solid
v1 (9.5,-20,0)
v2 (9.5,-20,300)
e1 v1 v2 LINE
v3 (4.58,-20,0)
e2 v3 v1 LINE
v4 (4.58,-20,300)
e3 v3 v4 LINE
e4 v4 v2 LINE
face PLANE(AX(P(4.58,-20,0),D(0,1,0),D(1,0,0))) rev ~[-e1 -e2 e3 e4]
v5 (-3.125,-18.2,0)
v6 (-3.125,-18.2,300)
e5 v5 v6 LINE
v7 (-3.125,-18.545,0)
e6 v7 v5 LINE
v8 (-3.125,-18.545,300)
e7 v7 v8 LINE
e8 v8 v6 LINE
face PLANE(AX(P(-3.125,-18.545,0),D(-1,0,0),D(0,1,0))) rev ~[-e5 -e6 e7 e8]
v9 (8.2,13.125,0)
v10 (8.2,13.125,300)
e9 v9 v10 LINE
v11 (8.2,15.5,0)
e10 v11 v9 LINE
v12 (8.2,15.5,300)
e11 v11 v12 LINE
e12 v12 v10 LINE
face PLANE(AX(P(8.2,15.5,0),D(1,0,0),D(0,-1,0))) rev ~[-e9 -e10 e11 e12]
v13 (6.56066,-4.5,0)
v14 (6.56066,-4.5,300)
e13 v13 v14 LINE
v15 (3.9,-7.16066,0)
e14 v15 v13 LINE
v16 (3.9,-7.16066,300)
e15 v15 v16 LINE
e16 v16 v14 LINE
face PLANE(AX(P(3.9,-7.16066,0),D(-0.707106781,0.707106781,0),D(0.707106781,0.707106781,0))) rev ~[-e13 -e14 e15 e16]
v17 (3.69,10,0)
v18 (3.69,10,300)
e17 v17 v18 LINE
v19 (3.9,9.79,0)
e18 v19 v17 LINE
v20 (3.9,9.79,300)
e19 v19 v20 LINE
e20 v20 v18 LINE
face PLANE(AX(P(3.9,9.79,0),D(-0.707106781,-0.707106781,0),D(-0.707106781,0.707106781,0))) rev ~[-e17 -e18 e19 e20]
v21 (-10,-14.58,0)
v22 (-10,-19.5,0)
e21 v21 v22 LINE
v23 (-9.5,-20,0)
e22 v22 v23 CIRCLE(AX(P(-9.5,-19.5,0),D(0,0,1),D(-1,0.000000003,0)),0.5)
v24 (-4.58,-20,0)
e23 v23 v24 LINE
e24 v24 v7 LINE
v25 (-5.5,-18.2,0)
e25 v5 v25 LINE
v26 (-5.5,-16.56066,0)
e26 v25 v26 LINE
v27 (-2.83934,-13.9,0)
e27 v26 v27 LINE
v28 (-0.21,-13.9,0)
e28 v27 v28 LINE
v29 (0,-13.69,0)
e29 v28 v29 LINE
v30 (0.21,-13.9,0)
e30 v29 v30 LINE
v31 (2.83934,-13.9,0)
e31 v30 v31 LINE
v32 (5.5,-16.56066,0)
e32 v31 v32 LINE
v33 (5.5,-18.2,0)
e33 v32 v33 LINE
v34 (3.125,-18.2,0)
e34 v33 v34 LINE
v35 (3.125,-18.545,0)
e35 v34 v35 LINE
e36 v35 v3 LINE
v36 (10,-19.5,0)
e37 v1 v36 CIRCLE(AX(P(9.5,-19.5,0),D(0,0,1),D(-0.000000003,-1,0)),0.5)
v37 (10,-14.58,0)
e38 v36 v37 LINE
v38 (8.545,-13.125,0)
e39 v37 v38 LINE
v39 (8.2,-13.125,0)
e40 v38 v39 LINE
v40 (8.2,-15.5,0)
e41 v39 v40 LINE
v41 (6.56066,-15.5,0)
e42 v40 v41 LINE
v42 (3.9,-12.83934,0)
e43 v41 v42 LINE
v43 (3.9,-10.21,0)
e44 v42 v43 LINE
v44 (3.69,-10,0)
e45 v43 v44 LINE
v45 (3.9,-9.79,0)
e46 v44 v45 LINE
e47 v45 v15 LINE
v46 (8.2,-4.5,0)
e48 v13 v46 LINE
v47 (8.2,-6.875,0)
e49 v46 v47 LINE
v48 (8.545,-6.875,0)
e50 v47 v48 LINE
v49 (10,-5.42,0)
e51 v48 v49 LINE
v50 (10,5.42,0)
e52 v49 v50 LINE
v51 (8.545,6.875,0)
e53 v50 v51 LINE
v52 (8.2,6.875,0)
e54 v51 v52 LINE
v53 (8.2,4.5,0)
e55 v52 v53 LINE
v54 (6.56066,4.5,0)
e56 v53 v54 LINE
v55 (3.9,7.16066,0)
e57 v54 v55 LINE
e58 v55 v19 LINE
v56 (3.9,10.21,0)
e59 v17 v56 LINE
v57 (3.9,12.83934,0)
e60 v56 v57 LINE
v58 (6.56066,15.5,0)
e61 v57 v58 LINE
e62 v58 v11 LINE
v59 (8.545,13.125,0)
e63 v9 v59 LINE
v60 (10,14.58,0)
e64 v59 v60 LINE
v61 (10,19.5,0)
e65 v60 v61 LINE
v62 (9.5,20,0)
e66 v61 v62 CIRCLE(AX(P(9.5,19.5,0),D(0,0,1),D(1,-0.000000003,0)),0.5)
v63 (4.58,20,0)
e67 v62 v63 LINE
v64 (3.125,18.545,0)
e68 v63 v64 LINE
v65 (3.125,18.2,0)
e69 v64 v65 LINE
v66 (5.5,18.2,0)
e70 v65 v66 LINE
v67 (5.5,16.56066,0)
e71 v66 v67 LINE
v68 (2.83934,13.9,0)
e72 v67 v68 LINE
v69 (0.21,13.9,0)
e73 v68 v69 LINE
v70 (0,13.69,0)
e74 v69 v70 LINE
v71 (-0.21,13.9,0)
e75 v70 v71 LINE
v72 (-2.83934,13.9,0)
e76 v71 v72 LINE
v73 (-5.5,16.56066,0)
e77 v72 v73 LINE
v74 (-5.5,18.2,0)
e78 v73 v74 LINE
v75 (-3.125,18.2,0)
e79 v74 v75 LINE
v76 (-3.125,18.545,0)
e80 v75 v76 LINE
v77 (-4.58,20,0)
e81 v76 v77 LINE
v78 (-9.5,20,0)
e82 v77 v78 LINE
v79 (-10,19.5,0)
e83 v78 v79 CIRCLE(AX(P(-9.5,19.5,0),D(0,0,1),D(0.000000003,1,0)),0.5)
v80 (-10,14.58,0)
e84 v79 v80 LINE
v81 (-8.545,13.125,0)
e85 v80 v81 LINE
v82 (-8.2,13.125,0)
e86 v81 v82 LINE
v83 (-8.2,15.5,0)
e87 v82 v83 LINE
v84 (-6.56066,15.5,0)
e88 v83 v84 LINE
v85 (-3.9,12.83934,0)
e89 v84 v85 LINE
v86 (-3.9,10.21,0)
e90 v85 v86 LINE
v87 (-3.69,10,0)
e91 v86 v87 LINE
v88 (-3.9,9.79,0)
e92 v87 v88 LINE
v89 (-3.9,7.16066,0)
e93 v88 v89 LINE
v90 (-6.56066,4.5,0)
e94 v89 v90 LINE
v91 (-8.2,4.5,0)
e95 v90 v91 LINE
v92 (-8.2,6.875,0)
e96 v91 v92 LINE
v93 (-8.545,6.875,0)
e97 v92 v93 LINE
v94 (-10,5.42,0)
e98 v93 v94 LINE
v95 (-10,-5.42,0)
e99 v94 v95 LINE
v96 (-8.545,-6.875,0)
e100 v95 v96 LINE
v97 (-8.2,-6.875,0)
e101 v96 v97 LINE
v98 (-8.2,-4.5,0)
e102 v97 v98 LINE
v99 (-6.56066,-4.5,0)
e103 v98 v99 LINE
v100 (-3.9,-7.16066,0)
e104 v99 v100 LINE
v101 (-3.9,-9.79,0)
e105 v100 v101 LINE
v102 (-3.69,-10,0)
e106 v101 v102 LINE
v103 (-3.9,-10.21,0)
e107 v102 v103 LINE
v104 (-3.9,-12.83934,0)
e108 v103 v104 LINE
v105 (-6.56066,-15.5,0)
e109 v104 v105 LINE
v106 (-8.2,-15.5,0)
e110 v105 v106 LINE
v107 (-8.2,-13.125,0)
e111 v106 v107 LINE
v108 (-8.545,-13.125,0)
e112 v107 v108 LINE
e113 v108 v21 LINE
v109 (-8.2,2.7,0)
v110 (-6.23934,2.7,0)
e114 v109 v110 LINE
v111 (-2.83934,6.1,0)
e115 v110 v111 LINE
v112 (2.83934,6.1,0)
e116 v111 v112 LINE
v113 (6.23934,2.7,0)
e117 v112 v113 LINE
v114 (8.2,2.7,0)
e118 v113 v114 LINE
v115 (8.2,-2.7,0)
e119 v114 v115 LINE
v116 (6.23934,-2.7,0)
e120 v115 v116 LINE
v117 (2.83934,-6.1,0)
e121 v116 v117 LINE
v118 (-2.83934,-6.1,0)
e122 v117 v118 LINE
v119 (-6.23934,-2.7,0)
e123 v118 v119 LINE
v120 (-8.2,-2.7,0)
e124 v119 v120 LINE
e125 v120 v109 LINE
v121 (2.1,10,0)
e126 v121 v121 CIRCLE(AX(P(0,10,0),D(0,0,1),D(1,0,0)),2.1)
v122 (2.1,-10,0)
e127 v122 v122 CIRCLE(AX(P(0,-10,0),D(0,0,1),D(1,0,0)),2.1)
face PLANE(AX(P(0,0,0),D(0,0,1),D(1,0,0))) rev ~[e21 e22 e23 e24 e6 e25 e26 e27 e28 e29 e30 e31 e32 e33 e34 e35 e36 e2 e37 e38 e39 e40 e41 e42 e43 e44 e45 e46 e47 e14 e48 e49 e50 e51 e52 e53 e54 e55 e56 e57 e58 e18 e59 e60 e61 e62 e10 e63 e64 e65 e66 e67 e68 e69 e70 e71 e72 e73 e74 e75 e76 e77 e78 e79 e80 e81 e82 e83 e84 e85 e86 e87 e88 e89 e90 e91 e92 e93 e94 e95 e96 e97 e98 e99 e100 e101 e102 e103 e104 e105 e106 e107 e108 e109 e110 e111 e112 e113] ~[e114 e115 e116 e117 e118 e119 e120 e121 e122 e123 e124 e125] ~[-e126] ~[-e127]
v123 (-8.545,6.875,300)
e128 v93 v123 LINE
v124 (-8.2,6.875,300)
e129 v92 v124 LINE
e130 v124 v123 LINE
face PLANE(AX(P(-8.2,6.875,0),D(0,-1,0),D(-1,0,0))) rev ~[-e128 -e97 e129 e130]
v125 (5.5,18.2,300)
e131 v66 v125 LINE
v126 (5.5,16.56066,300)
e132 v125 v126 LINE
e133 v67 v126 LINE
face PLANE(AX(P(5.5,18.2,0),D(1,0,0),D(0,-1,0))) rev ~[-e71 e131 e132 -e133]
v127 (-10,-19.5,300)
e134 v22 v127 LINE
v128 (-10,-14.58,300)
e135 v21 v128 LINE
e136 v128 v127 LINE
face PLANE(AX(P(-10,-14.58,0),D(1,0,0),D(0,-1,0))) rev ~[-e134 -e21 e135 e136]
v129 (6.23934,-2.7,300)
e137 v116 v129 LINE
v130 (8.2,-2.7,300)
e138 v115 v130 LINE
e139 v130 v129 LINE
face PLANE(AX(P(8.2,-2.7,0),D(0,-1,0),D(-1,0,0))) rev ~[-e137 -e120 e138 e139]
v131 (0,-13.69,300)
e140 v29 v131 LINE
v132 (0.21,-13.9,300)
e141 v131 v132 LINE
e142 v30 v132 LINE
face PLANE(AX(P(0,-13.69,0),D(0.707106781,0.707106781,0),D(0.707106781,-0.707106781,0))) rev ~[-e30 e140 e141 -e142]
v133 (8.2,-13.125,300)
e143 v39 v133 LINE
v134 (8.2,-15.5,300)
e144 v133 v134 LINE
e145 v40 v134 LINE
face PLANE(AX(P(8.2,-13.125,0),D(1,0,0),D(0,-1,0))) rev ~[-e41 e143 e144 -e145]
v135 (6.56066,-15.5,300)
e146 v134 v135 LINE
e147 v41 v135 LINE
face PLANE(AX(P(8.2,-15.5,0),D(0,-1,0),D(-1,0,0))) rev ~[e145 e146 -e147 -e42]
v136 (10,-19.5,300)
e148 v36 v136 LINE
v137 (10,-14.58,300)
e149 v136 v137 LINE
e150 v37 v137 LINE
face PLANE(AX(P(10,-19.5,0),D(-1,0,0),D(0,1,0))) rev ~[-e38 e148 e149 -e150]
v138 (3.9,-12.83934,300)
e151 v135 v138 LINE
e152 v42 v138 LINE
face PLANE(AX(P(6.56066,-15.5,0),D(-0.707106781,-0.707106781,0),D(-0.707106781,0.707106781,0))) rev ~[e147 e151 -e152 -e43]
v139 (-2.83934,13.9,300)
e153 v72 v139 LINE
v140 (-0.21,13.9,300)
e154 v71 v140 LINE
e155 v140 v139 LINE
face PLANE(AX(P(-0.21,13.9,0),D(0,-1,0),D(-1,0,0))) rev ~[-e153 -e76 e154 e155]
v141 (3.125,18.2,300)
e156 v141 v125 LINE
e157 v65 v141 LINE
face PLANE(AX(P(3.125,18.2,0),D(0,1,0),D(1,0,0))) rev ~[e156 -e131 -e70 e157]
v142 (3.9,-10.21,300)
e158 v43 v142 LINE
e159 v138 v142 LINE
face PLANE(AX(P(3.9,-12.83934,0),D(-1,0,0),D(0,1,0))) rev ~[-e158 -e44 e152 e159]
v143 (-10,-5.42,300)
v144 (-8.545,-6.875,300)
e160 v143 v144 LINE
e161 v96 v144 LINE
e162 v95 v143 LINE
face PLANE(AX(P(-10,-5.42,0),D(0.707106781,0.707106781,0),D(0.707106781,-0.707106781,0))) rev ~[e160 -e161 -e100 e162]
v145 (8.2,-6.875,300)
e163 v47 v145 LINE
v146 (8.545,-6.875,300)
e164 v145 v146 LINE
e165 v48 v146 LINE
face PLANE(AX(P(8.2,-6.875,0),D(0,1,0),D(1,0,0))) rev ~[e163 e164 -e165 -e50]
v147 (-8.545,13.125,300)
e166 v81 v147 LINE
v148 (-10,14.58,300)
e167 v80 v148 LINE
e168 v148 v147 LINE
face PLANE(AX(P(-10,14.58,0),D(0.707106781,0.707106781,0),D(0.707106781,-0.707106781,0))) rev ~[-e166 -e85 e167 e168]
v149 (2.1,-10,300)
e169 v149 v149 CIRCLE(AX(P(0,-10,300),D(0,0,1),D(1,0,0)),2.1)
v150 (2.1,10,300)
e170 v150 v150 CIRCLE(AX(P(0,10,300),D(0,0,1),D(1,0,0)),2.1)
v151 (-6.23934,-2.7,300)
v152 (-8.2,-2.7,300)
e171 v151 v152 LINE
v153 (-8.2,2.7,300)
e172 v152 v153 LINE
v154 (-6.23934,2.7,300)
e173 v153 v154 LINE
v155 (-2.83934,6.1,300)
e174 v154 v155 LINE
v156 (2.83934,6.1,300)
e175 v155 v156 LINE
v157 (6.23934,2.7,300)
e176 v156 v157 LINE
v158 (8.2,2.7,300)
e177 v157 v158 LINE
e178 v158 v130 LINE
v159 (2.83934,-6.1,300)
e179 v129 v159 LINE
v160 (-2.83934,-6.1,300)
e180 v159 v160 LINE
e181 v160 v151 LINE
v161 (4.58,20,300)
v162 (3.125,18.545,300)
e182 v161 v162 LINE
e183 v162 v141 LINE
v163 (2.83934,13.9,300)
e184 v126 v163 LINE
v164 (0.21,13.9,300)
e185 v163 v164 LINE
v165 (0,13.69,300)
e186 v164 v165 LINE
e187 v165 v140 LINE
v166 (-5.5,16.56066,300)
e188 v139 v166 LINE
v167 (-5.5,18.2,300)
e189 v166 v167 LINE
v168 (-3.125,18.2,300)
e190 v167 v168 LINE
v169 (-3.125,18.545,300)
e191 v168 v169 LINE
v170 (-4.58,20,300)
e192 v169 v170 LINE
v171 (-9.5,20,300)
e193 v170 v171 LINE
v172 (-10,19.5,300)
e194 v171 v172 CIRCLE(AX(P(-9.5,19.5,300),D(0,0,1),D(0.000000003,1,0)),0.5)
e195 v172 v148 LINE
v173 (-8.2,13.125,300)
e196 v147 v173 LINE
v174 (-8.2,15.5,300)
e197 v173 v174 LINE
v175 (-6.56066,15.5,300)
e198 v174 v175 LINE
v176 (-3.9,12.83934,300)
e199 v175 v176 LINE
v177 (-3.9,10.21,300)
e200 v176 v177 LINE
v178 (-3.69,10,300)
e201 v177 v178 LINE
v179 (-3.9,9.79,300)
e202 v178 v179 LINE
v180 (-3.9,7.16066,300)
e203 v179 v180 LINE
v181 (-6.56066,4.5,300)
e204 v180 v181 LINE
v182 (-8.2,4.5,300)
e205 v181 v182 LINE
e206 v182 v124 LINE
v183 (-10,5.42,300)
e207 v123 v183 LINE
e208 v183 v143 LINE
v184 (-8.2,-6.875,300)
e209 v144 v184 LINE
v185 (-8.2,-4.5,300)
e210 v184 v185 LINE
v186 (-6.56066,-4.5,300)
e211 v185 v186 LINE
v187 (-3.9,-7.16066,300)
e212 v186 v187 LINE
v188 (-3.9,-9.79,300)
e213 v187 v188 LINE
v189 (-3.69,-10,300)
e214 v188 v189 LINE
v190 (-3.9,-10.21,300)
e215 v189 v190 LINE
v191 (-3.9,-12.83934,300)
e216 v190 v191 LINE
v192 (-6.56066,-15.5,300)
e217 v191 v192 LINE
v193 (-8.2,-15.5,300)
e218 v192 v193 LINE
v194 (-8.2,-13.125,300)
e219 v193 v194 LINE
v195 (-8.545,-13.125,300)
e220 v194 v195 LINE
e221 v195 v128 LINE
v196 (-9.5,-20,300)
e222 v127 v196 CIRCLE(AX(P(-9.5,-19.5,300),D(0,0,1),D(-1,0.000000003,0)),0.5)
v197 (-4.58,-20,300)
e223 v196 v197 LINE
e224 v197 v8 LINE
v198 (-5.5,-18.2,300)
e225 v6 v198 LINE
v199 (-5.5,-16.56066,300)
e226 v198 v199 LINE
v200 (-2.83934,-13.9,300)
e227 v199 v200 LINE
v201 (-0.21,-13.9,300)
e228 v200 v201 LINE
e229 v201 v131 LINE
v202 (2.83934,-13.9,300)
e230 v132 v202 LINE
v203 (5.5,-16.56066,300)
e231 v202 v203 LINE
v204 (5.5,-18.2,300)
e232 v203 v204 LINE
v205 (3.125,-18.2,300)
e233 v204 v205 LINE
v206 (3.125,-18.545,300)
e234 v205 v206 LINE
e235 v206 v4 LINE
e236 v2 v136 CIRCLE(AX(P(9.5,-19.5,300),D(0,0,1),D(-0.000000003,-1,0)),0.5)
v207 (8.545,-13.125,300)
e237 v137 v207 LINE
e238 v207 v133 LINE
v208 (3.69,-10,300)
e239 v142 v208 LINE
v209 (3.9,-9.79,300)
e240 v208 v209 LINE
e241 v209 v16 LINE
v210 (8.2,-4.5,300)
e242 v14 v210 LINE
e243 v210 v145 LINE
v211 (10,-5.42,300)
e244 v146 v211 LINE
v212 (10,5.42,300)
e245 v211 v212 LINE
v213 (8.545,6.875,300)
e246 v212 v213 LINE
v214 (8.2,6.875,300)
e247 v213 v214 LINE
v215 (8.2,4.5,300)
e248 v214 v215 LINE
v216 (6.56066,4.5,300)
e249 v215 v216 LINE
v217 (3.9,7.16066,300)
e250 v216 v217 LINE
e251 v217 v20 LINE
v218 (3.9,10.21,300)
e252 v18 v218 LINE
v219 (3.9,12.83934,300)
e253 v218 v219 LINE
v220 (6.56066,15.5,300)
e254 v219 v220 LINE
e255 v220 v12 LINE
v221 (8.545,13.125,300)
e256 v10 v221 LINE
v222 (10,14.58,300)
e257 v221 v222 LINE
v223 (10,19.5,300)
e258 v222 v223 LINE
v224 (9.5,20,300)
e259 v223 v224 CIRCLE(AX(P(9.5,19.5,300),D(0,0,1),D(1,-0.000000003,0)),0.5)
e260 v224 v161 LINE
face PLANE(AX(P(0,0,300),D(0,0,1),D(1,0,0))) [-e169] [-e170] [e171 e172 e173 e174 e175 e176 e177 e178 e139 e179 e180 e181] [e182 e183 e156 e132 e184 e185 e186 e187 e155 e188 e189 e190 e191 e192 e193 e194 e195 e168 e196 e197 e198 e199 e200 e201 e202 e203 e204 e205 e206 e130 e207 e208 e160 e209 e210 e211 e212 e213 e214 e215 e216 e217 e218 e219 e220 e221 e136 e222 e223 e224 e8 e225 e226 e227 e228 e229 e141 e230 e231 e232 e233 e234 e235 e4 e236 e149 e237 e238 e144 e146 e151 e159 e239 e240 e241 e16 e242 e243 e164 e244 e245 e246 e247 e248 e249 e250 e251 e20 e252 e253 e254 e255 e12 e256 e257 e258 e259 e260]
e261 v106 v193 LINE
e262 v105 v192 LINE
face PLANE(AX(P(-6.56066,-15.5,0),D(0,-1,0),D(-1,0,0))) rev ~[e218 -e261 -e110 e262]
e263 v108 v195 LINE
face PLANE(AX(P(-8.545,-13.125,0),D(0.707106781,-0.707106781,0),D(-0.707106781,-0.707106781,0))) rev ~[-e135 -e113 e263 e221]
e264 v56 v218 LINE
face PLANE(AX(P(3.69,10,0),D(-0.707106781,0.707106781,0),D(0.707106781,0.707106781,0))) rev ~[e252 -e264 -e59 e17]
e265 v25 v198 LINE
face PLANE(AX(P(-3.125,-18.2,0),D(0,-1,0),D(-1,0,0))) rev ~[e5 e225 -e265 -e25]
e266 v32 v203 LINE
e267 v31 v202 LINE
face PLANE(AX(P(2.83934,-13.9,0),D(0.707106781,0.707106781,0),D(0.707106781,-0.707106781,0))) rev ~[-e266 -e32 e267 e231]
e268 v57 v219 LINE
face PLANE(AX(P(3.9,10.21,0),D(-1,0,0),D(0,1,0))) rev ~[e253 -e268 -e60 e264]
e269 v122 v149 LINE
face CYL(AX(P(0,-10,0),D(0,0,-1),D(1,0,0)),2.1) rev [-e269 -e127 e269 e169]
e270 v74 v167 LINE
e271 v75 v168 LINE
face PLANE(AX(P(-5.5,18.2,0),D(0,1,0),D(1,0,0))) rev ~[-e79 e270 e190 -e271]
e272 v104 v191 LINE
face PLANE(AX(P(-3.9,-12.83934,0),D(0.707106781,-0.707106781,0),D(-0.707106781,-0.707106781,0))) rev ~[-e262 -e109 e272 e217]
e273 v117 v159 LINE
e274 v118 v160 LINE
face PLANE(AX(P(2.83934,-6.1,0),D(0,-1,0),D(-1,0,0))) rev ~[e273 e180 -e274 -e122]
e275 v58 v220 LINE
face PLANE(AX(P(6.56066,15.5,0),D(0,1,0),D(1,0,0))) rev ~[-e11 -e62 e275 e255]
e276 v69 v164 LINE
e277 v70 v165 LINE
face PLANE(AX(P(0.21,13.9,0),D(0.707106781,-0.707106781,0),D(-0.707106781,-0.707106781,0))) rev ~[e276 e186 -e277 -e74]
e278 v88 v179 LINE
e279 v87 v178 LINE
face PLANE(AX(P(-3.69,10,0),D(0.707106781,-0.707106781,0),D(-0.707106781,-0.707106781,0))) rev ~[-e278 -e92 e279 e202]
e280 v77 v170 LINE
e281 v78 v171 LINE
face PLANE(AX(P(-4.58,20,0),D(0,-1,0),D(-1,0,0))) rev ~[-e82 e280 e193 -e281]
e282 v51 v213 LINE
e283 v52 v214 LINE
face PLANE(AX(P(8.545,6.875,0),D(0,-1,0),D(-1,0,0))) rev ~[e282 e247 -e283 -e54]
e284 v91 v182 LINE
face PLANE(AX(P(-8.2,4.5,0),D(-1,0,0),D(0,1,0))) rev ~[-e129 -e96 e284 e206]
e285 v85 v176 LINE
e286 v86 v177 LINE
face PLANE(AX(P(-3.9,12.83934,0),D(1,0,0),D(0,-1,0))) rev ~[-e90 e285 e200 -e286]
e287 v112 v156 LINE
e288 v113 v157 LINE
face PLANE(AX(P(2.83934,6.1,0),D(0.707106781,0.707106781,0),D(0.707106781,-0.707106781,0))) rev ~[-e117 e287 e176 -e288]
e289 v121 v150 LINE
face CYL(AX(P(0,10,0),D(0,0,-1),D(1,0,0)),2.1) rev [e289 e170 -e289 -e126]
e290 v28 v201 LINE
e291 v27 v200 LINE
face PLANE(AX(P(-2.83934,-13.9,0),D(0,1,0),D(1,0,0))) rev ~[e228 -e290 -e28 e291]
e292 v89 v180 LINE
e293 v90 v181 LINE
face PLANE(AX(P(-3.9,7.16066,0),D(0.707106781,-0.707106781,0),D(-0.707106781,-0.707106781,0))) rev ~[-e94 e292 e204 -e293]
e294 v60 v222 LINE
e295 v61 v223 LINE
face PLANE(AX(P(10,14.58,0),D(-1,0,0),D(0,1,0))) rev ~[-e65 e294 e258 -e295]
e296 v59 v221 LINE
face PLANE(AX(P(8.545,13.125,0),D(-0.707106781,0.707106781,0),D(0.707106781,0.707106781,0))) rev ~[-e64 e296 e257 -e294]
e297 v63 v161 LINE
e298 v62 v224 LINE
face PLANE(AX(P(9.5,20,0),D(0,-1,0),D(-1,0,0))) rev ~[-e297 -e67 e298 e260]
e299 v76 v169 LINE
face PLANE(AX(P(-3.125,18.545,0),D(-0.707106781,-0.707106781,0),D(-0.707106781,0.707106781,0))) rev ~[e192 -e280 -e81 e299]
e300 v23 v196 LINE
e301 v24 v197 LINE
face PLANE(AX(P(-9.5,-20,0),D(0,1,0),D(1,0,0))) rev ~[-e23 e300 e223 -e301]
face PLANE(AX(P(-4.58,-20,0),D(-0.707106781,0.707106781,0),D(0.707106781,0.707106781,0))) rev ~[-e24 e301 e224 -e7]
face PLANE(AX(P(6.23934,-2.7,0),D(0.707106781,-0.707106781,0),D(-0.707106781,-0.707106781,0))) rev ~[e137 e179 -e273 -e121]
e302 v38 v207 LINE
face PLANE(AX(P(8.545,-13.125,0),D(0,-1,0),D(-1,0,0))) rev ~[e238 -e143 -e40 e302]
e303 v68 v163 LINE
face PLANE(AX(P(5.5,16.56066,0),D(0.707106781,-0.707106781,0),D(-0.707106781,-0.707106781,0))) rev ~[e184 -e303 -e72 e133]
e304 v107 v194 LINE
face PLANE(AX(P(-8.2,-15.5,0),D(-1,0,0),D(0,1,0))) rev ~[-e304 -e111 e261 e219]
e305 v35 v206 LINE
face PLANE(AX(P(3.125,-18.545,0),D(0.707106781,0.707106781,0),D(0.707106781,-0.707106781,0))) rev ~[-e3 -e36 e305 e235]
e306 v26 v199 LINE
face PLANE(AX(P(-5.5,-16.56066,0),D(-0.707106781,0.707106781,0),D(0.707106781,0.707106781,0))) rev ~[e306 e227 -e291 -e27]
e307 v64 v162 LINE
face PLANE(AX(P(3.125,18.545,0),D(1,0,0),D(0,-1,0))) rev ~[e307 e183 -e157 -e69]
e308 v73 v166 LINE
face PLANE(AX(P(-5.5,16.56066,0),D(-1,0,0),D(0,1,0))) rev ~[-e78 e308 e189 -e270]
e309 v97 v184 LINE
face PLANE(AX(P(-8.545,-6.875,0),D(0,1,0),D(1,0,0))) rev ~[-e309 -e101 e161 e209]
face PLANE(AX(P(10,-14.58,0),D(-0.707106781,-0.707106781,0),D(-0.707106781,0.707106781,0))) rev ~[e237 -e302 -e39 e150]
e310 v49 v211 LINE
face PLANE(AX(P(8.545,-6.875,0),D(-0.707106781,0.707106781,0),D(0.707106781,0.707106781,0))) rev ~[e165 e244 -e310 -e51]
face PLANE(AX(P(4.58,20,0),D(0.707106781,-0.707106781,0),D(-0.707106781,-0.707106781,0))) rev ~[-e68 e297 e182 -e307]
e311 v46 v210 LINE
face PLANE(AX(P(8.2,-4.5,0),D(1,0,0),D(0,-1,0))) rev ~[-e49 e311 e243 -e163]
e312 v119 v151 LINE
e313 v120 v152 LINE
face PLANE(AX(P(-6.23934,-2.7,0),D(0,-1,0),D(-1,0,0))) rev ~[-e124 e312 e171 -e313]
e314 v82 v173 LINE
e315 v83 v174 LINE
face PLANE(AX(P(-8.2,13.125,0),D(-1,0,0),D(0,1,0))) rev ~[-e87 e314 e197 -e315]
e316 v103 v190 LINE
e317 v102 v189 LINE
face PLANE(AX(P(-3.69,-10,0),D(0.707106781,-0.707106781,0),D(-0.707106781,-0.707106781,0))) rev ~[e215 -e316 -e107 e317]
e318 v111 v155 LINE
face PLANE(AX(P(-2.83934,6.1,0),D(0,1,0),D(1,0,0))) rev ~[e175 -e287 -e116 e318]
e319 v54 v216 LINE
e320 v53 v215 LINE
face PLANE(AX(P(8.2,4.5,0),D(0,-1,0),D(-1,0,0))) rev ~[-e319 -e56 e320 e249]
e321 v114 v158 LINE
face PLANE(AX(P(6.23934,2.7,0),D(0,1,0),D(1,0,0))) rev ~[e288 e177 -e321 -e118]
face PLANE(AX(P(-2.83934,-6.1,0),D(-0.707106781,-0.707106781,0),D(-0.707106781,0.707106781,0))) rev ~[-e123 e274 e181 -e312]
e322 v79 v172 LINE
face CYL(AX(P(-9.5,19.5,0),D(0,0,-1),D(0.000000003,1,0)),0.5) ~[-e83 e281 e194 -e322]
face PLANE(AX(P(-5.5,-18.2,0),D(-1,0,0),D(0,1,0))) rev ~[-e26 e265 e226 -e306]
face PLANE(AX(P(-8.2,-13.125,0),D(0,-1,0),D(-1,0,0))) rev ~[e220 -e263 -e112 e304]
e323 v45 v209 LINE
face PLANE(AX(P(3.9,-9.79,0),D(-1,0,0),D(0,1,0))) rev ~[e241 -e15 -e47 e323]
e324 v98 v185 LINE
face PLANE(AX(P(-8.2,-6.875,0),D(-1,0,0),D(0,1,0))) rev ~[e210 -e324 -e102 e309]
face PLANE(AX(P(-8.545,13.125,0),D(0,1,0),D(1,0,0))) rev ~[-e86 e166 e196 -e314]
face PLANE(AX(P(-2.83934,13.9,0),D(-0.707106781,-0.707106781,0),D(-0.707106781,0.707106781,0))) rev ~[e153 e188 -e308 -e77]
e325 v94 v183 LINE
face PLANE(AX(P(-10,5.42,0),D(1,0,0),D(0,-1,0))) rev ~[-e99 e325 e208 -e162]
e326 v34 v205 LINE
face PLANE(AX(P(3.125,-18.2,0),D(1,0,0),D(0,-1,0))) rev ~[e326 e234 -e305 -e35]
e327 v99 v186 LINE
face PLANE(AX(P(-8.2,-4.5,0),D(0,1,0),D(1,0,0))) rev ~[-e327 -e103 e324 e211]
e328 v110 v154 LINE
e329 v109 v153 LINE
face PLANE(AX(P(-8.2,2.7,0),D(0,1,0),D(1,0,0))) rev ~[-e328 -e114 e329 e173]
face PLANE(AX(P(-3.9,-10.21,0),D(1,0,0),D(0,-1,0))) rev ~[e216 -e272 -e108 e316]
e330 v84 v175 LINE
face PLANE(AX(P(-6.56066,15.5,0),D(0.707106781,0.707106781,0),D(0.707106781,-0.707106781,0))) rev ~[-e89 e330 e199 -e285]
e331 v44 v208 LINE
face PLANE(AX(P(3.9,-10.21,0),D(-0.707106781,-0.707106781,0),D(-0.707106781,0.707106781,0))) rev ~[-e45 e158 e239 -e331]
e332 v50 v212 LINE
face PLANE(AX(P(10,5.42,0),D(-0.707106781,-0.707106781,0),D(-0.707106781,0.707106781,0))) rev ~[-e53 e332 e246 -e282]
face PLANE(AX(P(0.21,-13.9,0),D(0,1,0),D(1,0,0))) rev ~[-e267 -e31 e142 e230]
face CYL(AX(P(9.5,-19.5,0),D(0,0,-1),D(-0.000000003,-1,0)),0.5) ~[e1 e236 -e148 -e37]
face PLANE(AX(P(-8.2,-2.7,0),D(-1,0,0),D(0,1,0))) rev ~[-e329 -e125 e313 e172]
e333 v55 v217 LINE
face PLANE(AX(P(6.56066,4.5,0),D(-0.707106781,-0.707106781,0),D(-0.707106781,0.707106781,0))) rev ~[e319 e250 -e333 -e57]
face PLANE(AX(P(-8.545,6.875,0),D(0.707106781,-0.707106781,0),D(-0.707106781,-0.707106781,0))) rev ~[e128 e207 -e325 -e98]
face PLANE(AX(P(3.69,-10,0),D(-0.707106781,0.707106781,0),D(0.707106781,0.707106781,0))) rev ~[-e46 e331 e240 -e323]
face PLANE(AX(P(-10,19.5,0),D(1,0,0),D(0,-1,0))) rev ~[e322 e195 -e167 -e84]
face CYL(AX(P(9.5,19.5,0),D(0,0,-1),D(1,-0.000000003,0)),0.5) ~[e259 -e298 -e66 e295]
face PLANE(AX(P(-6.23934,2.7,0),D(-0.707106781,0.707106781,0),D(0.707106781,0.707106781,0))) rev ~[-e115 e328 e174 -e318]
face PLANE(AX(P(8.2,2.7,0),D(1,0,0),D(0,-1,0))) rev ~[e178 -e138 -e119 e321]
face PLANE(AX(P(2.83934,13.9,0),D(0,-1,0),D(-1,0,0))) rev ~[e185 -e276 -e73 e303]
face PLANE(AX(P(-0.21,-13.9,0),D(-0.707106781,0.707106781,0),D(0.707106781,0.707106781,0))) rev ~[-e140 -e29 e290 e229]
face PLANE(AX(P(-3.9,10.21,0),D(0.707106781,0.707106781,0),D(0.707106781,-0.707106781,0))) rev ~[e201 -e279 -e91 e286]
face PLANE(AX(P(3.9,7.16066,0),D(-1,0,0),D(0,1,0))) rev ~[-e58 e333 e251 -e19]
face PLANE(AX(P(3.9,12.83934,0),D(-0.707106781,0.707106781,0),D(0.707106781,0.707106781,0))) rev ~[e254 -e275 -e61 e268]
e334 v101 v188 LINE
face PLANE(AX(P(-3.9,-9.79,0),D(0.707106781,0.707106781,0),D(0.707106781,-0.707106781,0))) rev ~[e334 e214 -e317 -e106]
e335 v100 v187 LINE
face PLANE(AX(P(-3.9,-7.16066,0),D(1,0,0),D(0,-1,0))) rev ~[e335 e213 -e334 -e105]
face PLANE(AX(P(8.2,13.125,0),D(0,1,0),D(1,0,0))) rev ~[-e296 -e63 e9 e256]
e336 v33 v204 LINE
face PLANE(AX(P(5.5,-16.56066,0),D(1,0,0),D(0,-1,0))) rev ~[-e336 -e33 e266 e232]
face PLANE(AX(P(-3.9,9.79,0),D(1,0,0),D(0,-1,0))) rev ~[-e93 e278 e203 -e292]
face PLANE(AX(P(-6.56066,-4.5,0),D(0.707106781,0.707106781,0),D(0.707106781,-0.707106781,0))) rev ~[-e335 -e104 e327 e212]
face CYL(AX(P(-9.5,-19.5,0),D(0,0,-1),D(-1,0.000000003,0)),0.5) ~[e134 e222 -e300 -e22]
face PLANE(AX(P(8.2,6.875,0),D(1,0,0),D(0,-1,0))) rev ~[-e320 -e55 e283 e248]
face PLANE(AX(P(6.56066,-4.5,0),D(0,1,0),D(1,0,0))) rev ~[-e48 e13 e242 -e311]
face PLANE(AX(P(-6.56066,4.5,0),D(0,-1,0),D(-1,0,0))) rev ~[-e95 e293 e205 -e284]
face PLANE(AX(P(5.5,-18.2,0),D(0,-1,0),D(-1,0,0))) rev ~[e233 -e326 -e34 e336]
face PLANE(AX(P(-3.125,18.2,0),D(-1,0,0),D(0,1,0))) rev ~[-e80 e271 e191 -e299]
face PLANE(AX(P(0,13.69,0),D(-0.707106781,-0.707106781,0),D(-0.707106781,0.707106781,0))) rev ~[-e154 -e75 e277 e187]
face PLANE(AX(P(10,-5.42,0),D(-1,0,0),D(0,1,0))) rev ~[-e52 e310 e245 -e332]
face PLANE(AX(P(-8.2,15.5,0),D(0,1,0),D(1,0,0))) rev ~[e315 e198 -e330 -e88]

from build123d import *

# Parameters (mm, degrees)
SKETCH1_R           = 2.1
BOSS_EXTRUDE1_DEPTH = 300


with BuildPart() as part:
    # Sketch1 → Boss-Extrude1 (new body)
    with BuildSketch(Plane.XY):
        with BuildLine():
            Line((4.58, -20), (9.5, -20))
            ThreePointArc((9.5, -20), (9.853553391, -19.853553391), (10, -19.5))
            Line((10, -19.5), (10, -14.58))
            Line((10, -14.58), (8.545, -13.125))
            Line((8.545, -13.125), (8.2, -13.125))
            Line((8.2, -13.125), (8.2, -15.5))
            Line((8.2, -15.5), (6.560660172, -15.5))
            Line((6.560660172, -15.5), (3.9, -12.839339828))
            Line((3.9, -12.839339828), (3.9, -10.21))
            Line((3.9, -10.21), (3.69, -10))
            Line((3.69, -10), (3.9, -9.79))
            Line((3.9, -9.79), (3.9, -7.160660172))
            Line((3.9, -7.160660172), (6.560660172, -4.5))
            Line((6.560660172, -4.5), (8.2, -4.5))
            Line((8.2, -4.5), (8.2, -6.875))
            Line((8.2, -6.875), (8.545, -6.875))
            Line((8.545, -6.875), (10, -5.42))
            Line((10, -5.42), (10, 5.42))
            Line((10, 5.42), (8.545, 6.875))
            Line((8.545, 6.875), (8.2, 6.875))
            Line((8.2, 6.875), (8.2, 4.5))
            Line((8.2, 4.5), (6.560660172, 4.5))
            Line((6.560660172, 4.5), (3.9, 7.160660172))
            Line((3.9, 7.160660172), (3.9, 9.79))
            Line((3.9, 9.79), (3.69, 10))
            Line((3.69, 10), (3.9, 10.21))
            Line((3.9, 10.21), (3.9, 12.839339828))
            Line((3.9, 12.839339828), (6.560660172, 15.5))
            Line((6.560660172, 15.5), (8.2, 15.5))
            Line((8.2, 15.5), (8.2, 13.125))
            Line((8.2, 13.125), (8.545, 13.125))
            Line((8.545, 13.125), (10, 14.58))
            Line((10, 14.58), (10, 19.5))
            ThreePointArc((10, 19.5), (9.853553391, 19.853553391), (9.5, 20))
            Line((9.5, 20), (4.58, 20))
            Line((4.58, 20), (3.125, 18.545))
            Line((3.125, 18.545), (3.125, 18.2))
            Line((3.125, 18.2), (5.5, 18.2))
            Line((5.5, 18.2), (5.5, 16.560660172))
            Line((5.5, 16.560660172), (2.839339828, 13.9))
            Line((2.839339828, 13.9), (0.21, 13.9))
            Line((0.21, 13.9), (0, 13.69))
            Line((0, 13.69), (-0.21, 13.9))
            Line((-0.21, 13.9), (-2.839339828, 13.9))
            Line((-2.839339828, 13.9), (-5.5, 16.560660172))
            Line((-5.5, 16.560660172), (-5.5, 18.2))
            Line((-5.5, 18.2), (-3.125, 18.2))
            Line((-3.125, 18.2), (-3.125, 18.545))
            Line((-3.125, 18.545), (-4.58, 20))
            Line((-4.58, 20), (-9.5, 20))
            ThreePointArc((-9.5, 20), (-9.853553391, 19.853553391), (-10, 19.5))
            Line((-10, 19.5), (-10, 14.58))
            Line((-10, 14.58), (-8.545, 13.125))
            Line((-8.545, 13.125), (-8.2, 13.125))
            Line((-8.2, 13.125), (-8.2, 15.5))
            Line((-8.2, 15.5), (-6.560660172, 15.5))
            Line((-6.560660172, 15.5), (-3.9, 12.839339828))
            Line((-3.9, 12.839339828), (-3.9, 10.21))
            Line((-3.9, 10.21), (-3.69, 10))
            Line((-3.69, 10), (-3.9, 9.79))
            Line((-3.9, 9.79), (-3.9, 7.160660172))
            Line((-3.9, 7.160660172), (-6.560660172, 4.5))
            Line((-6.560660172, 4.5), (-8.2, 4.5))
            Line((-8.2, 4.5), (-8.2, 6.875))
            Line((-8.2, 6.875), (-8.545, 6.875))
            Line((-8.545, 6.875), (-10, 5.42))
            Line((-10, 5.42), (-10, -5.42))
            Line((-10, -5.42), (-8.545, -6.875))
            Line((-8.545, -6.875), (-8.2, -6.875))
            Line((-8.2, -6.875), (-8.2, -4.5))
            Line((-8.2, -4.5), (-6.560660172, -4.5))
            Line((-6.560660172, -4.5), (-3.9, -7.160660172))
            Line((-3.9, -7.160660172), (-3.9, -9.79))
            Line((-3.9, -9.79), (-3.69, -10))
            Line((-3.69, -10), (-3.9, -10.21))
            Line((-3.9, -10.21), (-3.9, -12.839339828))
            Line((-3.9, -12.839339828), (-6.560660172, -15.5))
            Line((-6.560660172, -15.5), (-8.2, -15.5))
            Line((-8.2, -15.5), (-8.2, -13.125))
            Line((-8.2, -13.125), (-8.545, -13.125))
            Line((-8.545, -13.125), (-10, -14.58))
            Line((-10, -14.58), (-10, -19.5))
            ThreePointArc((-10, -19.5), (-9.853553391, -19.853553391), (-9.5, -20))
            Line((-9.5, -20), (-4.58, -20))
            Line((-4.58, -20), (-3.125, -18.545))
            Line((-3.125, -18.545), (-3.125, -18.2))
            Line((-3.125, -18.2), (-5.5, -18.2))
            Line((-5.5, -18.2), (-5.5, -16.560660172))
            Line((-5.5, -16.560660172), (-2.839339828, -13.9))
            Line((-2.839339828, -13.9), (-0.21, -13.9))
            Line((-0.21, -13.9), (0, -13.69))
            Line((0, -13.69), (0.21, -13.9))
            Line((0.21, -13.9), (2.839339828, -13.9))
            Line((2.839339828, -13.9), (5.5, -16.560660172))
            Line((5.5, -16.560660172), (5.5, -18.2))
            Line((5.5, -18.2), (3.125, -18.2))
            Line((3.125, -18.2), (3.125, -18.545))
            Line((3.125, -18.545), (4.58, -20))
        make_face()
        with Locations((0, -10)):
            Circle(SKETCH1_R, mode=Mode.SUBTRACT)
        Polygon((-6.239339828, -2.7), (-8.2, -2.7), (-8.2, 2.7), (-6.239339828, 2.7), (-2.839339828, 6.1), (2.839339828, 6.1), (6.239339828, 2.7), (8.2, 2.7), (8.2, -2.7), (6.239339828, -2.7), (2.839339828, -6.1), (-2.839339828, -6.1), align=None, mode=Mode.SUBTRACT)
        with Locations((0, 10)):
            Circle(SKETCH1_R, mode=Mode.SUBTRACT)
    extrude(amount=BOSS_EXTRUDE1_DEPTH)


solid = part.part
